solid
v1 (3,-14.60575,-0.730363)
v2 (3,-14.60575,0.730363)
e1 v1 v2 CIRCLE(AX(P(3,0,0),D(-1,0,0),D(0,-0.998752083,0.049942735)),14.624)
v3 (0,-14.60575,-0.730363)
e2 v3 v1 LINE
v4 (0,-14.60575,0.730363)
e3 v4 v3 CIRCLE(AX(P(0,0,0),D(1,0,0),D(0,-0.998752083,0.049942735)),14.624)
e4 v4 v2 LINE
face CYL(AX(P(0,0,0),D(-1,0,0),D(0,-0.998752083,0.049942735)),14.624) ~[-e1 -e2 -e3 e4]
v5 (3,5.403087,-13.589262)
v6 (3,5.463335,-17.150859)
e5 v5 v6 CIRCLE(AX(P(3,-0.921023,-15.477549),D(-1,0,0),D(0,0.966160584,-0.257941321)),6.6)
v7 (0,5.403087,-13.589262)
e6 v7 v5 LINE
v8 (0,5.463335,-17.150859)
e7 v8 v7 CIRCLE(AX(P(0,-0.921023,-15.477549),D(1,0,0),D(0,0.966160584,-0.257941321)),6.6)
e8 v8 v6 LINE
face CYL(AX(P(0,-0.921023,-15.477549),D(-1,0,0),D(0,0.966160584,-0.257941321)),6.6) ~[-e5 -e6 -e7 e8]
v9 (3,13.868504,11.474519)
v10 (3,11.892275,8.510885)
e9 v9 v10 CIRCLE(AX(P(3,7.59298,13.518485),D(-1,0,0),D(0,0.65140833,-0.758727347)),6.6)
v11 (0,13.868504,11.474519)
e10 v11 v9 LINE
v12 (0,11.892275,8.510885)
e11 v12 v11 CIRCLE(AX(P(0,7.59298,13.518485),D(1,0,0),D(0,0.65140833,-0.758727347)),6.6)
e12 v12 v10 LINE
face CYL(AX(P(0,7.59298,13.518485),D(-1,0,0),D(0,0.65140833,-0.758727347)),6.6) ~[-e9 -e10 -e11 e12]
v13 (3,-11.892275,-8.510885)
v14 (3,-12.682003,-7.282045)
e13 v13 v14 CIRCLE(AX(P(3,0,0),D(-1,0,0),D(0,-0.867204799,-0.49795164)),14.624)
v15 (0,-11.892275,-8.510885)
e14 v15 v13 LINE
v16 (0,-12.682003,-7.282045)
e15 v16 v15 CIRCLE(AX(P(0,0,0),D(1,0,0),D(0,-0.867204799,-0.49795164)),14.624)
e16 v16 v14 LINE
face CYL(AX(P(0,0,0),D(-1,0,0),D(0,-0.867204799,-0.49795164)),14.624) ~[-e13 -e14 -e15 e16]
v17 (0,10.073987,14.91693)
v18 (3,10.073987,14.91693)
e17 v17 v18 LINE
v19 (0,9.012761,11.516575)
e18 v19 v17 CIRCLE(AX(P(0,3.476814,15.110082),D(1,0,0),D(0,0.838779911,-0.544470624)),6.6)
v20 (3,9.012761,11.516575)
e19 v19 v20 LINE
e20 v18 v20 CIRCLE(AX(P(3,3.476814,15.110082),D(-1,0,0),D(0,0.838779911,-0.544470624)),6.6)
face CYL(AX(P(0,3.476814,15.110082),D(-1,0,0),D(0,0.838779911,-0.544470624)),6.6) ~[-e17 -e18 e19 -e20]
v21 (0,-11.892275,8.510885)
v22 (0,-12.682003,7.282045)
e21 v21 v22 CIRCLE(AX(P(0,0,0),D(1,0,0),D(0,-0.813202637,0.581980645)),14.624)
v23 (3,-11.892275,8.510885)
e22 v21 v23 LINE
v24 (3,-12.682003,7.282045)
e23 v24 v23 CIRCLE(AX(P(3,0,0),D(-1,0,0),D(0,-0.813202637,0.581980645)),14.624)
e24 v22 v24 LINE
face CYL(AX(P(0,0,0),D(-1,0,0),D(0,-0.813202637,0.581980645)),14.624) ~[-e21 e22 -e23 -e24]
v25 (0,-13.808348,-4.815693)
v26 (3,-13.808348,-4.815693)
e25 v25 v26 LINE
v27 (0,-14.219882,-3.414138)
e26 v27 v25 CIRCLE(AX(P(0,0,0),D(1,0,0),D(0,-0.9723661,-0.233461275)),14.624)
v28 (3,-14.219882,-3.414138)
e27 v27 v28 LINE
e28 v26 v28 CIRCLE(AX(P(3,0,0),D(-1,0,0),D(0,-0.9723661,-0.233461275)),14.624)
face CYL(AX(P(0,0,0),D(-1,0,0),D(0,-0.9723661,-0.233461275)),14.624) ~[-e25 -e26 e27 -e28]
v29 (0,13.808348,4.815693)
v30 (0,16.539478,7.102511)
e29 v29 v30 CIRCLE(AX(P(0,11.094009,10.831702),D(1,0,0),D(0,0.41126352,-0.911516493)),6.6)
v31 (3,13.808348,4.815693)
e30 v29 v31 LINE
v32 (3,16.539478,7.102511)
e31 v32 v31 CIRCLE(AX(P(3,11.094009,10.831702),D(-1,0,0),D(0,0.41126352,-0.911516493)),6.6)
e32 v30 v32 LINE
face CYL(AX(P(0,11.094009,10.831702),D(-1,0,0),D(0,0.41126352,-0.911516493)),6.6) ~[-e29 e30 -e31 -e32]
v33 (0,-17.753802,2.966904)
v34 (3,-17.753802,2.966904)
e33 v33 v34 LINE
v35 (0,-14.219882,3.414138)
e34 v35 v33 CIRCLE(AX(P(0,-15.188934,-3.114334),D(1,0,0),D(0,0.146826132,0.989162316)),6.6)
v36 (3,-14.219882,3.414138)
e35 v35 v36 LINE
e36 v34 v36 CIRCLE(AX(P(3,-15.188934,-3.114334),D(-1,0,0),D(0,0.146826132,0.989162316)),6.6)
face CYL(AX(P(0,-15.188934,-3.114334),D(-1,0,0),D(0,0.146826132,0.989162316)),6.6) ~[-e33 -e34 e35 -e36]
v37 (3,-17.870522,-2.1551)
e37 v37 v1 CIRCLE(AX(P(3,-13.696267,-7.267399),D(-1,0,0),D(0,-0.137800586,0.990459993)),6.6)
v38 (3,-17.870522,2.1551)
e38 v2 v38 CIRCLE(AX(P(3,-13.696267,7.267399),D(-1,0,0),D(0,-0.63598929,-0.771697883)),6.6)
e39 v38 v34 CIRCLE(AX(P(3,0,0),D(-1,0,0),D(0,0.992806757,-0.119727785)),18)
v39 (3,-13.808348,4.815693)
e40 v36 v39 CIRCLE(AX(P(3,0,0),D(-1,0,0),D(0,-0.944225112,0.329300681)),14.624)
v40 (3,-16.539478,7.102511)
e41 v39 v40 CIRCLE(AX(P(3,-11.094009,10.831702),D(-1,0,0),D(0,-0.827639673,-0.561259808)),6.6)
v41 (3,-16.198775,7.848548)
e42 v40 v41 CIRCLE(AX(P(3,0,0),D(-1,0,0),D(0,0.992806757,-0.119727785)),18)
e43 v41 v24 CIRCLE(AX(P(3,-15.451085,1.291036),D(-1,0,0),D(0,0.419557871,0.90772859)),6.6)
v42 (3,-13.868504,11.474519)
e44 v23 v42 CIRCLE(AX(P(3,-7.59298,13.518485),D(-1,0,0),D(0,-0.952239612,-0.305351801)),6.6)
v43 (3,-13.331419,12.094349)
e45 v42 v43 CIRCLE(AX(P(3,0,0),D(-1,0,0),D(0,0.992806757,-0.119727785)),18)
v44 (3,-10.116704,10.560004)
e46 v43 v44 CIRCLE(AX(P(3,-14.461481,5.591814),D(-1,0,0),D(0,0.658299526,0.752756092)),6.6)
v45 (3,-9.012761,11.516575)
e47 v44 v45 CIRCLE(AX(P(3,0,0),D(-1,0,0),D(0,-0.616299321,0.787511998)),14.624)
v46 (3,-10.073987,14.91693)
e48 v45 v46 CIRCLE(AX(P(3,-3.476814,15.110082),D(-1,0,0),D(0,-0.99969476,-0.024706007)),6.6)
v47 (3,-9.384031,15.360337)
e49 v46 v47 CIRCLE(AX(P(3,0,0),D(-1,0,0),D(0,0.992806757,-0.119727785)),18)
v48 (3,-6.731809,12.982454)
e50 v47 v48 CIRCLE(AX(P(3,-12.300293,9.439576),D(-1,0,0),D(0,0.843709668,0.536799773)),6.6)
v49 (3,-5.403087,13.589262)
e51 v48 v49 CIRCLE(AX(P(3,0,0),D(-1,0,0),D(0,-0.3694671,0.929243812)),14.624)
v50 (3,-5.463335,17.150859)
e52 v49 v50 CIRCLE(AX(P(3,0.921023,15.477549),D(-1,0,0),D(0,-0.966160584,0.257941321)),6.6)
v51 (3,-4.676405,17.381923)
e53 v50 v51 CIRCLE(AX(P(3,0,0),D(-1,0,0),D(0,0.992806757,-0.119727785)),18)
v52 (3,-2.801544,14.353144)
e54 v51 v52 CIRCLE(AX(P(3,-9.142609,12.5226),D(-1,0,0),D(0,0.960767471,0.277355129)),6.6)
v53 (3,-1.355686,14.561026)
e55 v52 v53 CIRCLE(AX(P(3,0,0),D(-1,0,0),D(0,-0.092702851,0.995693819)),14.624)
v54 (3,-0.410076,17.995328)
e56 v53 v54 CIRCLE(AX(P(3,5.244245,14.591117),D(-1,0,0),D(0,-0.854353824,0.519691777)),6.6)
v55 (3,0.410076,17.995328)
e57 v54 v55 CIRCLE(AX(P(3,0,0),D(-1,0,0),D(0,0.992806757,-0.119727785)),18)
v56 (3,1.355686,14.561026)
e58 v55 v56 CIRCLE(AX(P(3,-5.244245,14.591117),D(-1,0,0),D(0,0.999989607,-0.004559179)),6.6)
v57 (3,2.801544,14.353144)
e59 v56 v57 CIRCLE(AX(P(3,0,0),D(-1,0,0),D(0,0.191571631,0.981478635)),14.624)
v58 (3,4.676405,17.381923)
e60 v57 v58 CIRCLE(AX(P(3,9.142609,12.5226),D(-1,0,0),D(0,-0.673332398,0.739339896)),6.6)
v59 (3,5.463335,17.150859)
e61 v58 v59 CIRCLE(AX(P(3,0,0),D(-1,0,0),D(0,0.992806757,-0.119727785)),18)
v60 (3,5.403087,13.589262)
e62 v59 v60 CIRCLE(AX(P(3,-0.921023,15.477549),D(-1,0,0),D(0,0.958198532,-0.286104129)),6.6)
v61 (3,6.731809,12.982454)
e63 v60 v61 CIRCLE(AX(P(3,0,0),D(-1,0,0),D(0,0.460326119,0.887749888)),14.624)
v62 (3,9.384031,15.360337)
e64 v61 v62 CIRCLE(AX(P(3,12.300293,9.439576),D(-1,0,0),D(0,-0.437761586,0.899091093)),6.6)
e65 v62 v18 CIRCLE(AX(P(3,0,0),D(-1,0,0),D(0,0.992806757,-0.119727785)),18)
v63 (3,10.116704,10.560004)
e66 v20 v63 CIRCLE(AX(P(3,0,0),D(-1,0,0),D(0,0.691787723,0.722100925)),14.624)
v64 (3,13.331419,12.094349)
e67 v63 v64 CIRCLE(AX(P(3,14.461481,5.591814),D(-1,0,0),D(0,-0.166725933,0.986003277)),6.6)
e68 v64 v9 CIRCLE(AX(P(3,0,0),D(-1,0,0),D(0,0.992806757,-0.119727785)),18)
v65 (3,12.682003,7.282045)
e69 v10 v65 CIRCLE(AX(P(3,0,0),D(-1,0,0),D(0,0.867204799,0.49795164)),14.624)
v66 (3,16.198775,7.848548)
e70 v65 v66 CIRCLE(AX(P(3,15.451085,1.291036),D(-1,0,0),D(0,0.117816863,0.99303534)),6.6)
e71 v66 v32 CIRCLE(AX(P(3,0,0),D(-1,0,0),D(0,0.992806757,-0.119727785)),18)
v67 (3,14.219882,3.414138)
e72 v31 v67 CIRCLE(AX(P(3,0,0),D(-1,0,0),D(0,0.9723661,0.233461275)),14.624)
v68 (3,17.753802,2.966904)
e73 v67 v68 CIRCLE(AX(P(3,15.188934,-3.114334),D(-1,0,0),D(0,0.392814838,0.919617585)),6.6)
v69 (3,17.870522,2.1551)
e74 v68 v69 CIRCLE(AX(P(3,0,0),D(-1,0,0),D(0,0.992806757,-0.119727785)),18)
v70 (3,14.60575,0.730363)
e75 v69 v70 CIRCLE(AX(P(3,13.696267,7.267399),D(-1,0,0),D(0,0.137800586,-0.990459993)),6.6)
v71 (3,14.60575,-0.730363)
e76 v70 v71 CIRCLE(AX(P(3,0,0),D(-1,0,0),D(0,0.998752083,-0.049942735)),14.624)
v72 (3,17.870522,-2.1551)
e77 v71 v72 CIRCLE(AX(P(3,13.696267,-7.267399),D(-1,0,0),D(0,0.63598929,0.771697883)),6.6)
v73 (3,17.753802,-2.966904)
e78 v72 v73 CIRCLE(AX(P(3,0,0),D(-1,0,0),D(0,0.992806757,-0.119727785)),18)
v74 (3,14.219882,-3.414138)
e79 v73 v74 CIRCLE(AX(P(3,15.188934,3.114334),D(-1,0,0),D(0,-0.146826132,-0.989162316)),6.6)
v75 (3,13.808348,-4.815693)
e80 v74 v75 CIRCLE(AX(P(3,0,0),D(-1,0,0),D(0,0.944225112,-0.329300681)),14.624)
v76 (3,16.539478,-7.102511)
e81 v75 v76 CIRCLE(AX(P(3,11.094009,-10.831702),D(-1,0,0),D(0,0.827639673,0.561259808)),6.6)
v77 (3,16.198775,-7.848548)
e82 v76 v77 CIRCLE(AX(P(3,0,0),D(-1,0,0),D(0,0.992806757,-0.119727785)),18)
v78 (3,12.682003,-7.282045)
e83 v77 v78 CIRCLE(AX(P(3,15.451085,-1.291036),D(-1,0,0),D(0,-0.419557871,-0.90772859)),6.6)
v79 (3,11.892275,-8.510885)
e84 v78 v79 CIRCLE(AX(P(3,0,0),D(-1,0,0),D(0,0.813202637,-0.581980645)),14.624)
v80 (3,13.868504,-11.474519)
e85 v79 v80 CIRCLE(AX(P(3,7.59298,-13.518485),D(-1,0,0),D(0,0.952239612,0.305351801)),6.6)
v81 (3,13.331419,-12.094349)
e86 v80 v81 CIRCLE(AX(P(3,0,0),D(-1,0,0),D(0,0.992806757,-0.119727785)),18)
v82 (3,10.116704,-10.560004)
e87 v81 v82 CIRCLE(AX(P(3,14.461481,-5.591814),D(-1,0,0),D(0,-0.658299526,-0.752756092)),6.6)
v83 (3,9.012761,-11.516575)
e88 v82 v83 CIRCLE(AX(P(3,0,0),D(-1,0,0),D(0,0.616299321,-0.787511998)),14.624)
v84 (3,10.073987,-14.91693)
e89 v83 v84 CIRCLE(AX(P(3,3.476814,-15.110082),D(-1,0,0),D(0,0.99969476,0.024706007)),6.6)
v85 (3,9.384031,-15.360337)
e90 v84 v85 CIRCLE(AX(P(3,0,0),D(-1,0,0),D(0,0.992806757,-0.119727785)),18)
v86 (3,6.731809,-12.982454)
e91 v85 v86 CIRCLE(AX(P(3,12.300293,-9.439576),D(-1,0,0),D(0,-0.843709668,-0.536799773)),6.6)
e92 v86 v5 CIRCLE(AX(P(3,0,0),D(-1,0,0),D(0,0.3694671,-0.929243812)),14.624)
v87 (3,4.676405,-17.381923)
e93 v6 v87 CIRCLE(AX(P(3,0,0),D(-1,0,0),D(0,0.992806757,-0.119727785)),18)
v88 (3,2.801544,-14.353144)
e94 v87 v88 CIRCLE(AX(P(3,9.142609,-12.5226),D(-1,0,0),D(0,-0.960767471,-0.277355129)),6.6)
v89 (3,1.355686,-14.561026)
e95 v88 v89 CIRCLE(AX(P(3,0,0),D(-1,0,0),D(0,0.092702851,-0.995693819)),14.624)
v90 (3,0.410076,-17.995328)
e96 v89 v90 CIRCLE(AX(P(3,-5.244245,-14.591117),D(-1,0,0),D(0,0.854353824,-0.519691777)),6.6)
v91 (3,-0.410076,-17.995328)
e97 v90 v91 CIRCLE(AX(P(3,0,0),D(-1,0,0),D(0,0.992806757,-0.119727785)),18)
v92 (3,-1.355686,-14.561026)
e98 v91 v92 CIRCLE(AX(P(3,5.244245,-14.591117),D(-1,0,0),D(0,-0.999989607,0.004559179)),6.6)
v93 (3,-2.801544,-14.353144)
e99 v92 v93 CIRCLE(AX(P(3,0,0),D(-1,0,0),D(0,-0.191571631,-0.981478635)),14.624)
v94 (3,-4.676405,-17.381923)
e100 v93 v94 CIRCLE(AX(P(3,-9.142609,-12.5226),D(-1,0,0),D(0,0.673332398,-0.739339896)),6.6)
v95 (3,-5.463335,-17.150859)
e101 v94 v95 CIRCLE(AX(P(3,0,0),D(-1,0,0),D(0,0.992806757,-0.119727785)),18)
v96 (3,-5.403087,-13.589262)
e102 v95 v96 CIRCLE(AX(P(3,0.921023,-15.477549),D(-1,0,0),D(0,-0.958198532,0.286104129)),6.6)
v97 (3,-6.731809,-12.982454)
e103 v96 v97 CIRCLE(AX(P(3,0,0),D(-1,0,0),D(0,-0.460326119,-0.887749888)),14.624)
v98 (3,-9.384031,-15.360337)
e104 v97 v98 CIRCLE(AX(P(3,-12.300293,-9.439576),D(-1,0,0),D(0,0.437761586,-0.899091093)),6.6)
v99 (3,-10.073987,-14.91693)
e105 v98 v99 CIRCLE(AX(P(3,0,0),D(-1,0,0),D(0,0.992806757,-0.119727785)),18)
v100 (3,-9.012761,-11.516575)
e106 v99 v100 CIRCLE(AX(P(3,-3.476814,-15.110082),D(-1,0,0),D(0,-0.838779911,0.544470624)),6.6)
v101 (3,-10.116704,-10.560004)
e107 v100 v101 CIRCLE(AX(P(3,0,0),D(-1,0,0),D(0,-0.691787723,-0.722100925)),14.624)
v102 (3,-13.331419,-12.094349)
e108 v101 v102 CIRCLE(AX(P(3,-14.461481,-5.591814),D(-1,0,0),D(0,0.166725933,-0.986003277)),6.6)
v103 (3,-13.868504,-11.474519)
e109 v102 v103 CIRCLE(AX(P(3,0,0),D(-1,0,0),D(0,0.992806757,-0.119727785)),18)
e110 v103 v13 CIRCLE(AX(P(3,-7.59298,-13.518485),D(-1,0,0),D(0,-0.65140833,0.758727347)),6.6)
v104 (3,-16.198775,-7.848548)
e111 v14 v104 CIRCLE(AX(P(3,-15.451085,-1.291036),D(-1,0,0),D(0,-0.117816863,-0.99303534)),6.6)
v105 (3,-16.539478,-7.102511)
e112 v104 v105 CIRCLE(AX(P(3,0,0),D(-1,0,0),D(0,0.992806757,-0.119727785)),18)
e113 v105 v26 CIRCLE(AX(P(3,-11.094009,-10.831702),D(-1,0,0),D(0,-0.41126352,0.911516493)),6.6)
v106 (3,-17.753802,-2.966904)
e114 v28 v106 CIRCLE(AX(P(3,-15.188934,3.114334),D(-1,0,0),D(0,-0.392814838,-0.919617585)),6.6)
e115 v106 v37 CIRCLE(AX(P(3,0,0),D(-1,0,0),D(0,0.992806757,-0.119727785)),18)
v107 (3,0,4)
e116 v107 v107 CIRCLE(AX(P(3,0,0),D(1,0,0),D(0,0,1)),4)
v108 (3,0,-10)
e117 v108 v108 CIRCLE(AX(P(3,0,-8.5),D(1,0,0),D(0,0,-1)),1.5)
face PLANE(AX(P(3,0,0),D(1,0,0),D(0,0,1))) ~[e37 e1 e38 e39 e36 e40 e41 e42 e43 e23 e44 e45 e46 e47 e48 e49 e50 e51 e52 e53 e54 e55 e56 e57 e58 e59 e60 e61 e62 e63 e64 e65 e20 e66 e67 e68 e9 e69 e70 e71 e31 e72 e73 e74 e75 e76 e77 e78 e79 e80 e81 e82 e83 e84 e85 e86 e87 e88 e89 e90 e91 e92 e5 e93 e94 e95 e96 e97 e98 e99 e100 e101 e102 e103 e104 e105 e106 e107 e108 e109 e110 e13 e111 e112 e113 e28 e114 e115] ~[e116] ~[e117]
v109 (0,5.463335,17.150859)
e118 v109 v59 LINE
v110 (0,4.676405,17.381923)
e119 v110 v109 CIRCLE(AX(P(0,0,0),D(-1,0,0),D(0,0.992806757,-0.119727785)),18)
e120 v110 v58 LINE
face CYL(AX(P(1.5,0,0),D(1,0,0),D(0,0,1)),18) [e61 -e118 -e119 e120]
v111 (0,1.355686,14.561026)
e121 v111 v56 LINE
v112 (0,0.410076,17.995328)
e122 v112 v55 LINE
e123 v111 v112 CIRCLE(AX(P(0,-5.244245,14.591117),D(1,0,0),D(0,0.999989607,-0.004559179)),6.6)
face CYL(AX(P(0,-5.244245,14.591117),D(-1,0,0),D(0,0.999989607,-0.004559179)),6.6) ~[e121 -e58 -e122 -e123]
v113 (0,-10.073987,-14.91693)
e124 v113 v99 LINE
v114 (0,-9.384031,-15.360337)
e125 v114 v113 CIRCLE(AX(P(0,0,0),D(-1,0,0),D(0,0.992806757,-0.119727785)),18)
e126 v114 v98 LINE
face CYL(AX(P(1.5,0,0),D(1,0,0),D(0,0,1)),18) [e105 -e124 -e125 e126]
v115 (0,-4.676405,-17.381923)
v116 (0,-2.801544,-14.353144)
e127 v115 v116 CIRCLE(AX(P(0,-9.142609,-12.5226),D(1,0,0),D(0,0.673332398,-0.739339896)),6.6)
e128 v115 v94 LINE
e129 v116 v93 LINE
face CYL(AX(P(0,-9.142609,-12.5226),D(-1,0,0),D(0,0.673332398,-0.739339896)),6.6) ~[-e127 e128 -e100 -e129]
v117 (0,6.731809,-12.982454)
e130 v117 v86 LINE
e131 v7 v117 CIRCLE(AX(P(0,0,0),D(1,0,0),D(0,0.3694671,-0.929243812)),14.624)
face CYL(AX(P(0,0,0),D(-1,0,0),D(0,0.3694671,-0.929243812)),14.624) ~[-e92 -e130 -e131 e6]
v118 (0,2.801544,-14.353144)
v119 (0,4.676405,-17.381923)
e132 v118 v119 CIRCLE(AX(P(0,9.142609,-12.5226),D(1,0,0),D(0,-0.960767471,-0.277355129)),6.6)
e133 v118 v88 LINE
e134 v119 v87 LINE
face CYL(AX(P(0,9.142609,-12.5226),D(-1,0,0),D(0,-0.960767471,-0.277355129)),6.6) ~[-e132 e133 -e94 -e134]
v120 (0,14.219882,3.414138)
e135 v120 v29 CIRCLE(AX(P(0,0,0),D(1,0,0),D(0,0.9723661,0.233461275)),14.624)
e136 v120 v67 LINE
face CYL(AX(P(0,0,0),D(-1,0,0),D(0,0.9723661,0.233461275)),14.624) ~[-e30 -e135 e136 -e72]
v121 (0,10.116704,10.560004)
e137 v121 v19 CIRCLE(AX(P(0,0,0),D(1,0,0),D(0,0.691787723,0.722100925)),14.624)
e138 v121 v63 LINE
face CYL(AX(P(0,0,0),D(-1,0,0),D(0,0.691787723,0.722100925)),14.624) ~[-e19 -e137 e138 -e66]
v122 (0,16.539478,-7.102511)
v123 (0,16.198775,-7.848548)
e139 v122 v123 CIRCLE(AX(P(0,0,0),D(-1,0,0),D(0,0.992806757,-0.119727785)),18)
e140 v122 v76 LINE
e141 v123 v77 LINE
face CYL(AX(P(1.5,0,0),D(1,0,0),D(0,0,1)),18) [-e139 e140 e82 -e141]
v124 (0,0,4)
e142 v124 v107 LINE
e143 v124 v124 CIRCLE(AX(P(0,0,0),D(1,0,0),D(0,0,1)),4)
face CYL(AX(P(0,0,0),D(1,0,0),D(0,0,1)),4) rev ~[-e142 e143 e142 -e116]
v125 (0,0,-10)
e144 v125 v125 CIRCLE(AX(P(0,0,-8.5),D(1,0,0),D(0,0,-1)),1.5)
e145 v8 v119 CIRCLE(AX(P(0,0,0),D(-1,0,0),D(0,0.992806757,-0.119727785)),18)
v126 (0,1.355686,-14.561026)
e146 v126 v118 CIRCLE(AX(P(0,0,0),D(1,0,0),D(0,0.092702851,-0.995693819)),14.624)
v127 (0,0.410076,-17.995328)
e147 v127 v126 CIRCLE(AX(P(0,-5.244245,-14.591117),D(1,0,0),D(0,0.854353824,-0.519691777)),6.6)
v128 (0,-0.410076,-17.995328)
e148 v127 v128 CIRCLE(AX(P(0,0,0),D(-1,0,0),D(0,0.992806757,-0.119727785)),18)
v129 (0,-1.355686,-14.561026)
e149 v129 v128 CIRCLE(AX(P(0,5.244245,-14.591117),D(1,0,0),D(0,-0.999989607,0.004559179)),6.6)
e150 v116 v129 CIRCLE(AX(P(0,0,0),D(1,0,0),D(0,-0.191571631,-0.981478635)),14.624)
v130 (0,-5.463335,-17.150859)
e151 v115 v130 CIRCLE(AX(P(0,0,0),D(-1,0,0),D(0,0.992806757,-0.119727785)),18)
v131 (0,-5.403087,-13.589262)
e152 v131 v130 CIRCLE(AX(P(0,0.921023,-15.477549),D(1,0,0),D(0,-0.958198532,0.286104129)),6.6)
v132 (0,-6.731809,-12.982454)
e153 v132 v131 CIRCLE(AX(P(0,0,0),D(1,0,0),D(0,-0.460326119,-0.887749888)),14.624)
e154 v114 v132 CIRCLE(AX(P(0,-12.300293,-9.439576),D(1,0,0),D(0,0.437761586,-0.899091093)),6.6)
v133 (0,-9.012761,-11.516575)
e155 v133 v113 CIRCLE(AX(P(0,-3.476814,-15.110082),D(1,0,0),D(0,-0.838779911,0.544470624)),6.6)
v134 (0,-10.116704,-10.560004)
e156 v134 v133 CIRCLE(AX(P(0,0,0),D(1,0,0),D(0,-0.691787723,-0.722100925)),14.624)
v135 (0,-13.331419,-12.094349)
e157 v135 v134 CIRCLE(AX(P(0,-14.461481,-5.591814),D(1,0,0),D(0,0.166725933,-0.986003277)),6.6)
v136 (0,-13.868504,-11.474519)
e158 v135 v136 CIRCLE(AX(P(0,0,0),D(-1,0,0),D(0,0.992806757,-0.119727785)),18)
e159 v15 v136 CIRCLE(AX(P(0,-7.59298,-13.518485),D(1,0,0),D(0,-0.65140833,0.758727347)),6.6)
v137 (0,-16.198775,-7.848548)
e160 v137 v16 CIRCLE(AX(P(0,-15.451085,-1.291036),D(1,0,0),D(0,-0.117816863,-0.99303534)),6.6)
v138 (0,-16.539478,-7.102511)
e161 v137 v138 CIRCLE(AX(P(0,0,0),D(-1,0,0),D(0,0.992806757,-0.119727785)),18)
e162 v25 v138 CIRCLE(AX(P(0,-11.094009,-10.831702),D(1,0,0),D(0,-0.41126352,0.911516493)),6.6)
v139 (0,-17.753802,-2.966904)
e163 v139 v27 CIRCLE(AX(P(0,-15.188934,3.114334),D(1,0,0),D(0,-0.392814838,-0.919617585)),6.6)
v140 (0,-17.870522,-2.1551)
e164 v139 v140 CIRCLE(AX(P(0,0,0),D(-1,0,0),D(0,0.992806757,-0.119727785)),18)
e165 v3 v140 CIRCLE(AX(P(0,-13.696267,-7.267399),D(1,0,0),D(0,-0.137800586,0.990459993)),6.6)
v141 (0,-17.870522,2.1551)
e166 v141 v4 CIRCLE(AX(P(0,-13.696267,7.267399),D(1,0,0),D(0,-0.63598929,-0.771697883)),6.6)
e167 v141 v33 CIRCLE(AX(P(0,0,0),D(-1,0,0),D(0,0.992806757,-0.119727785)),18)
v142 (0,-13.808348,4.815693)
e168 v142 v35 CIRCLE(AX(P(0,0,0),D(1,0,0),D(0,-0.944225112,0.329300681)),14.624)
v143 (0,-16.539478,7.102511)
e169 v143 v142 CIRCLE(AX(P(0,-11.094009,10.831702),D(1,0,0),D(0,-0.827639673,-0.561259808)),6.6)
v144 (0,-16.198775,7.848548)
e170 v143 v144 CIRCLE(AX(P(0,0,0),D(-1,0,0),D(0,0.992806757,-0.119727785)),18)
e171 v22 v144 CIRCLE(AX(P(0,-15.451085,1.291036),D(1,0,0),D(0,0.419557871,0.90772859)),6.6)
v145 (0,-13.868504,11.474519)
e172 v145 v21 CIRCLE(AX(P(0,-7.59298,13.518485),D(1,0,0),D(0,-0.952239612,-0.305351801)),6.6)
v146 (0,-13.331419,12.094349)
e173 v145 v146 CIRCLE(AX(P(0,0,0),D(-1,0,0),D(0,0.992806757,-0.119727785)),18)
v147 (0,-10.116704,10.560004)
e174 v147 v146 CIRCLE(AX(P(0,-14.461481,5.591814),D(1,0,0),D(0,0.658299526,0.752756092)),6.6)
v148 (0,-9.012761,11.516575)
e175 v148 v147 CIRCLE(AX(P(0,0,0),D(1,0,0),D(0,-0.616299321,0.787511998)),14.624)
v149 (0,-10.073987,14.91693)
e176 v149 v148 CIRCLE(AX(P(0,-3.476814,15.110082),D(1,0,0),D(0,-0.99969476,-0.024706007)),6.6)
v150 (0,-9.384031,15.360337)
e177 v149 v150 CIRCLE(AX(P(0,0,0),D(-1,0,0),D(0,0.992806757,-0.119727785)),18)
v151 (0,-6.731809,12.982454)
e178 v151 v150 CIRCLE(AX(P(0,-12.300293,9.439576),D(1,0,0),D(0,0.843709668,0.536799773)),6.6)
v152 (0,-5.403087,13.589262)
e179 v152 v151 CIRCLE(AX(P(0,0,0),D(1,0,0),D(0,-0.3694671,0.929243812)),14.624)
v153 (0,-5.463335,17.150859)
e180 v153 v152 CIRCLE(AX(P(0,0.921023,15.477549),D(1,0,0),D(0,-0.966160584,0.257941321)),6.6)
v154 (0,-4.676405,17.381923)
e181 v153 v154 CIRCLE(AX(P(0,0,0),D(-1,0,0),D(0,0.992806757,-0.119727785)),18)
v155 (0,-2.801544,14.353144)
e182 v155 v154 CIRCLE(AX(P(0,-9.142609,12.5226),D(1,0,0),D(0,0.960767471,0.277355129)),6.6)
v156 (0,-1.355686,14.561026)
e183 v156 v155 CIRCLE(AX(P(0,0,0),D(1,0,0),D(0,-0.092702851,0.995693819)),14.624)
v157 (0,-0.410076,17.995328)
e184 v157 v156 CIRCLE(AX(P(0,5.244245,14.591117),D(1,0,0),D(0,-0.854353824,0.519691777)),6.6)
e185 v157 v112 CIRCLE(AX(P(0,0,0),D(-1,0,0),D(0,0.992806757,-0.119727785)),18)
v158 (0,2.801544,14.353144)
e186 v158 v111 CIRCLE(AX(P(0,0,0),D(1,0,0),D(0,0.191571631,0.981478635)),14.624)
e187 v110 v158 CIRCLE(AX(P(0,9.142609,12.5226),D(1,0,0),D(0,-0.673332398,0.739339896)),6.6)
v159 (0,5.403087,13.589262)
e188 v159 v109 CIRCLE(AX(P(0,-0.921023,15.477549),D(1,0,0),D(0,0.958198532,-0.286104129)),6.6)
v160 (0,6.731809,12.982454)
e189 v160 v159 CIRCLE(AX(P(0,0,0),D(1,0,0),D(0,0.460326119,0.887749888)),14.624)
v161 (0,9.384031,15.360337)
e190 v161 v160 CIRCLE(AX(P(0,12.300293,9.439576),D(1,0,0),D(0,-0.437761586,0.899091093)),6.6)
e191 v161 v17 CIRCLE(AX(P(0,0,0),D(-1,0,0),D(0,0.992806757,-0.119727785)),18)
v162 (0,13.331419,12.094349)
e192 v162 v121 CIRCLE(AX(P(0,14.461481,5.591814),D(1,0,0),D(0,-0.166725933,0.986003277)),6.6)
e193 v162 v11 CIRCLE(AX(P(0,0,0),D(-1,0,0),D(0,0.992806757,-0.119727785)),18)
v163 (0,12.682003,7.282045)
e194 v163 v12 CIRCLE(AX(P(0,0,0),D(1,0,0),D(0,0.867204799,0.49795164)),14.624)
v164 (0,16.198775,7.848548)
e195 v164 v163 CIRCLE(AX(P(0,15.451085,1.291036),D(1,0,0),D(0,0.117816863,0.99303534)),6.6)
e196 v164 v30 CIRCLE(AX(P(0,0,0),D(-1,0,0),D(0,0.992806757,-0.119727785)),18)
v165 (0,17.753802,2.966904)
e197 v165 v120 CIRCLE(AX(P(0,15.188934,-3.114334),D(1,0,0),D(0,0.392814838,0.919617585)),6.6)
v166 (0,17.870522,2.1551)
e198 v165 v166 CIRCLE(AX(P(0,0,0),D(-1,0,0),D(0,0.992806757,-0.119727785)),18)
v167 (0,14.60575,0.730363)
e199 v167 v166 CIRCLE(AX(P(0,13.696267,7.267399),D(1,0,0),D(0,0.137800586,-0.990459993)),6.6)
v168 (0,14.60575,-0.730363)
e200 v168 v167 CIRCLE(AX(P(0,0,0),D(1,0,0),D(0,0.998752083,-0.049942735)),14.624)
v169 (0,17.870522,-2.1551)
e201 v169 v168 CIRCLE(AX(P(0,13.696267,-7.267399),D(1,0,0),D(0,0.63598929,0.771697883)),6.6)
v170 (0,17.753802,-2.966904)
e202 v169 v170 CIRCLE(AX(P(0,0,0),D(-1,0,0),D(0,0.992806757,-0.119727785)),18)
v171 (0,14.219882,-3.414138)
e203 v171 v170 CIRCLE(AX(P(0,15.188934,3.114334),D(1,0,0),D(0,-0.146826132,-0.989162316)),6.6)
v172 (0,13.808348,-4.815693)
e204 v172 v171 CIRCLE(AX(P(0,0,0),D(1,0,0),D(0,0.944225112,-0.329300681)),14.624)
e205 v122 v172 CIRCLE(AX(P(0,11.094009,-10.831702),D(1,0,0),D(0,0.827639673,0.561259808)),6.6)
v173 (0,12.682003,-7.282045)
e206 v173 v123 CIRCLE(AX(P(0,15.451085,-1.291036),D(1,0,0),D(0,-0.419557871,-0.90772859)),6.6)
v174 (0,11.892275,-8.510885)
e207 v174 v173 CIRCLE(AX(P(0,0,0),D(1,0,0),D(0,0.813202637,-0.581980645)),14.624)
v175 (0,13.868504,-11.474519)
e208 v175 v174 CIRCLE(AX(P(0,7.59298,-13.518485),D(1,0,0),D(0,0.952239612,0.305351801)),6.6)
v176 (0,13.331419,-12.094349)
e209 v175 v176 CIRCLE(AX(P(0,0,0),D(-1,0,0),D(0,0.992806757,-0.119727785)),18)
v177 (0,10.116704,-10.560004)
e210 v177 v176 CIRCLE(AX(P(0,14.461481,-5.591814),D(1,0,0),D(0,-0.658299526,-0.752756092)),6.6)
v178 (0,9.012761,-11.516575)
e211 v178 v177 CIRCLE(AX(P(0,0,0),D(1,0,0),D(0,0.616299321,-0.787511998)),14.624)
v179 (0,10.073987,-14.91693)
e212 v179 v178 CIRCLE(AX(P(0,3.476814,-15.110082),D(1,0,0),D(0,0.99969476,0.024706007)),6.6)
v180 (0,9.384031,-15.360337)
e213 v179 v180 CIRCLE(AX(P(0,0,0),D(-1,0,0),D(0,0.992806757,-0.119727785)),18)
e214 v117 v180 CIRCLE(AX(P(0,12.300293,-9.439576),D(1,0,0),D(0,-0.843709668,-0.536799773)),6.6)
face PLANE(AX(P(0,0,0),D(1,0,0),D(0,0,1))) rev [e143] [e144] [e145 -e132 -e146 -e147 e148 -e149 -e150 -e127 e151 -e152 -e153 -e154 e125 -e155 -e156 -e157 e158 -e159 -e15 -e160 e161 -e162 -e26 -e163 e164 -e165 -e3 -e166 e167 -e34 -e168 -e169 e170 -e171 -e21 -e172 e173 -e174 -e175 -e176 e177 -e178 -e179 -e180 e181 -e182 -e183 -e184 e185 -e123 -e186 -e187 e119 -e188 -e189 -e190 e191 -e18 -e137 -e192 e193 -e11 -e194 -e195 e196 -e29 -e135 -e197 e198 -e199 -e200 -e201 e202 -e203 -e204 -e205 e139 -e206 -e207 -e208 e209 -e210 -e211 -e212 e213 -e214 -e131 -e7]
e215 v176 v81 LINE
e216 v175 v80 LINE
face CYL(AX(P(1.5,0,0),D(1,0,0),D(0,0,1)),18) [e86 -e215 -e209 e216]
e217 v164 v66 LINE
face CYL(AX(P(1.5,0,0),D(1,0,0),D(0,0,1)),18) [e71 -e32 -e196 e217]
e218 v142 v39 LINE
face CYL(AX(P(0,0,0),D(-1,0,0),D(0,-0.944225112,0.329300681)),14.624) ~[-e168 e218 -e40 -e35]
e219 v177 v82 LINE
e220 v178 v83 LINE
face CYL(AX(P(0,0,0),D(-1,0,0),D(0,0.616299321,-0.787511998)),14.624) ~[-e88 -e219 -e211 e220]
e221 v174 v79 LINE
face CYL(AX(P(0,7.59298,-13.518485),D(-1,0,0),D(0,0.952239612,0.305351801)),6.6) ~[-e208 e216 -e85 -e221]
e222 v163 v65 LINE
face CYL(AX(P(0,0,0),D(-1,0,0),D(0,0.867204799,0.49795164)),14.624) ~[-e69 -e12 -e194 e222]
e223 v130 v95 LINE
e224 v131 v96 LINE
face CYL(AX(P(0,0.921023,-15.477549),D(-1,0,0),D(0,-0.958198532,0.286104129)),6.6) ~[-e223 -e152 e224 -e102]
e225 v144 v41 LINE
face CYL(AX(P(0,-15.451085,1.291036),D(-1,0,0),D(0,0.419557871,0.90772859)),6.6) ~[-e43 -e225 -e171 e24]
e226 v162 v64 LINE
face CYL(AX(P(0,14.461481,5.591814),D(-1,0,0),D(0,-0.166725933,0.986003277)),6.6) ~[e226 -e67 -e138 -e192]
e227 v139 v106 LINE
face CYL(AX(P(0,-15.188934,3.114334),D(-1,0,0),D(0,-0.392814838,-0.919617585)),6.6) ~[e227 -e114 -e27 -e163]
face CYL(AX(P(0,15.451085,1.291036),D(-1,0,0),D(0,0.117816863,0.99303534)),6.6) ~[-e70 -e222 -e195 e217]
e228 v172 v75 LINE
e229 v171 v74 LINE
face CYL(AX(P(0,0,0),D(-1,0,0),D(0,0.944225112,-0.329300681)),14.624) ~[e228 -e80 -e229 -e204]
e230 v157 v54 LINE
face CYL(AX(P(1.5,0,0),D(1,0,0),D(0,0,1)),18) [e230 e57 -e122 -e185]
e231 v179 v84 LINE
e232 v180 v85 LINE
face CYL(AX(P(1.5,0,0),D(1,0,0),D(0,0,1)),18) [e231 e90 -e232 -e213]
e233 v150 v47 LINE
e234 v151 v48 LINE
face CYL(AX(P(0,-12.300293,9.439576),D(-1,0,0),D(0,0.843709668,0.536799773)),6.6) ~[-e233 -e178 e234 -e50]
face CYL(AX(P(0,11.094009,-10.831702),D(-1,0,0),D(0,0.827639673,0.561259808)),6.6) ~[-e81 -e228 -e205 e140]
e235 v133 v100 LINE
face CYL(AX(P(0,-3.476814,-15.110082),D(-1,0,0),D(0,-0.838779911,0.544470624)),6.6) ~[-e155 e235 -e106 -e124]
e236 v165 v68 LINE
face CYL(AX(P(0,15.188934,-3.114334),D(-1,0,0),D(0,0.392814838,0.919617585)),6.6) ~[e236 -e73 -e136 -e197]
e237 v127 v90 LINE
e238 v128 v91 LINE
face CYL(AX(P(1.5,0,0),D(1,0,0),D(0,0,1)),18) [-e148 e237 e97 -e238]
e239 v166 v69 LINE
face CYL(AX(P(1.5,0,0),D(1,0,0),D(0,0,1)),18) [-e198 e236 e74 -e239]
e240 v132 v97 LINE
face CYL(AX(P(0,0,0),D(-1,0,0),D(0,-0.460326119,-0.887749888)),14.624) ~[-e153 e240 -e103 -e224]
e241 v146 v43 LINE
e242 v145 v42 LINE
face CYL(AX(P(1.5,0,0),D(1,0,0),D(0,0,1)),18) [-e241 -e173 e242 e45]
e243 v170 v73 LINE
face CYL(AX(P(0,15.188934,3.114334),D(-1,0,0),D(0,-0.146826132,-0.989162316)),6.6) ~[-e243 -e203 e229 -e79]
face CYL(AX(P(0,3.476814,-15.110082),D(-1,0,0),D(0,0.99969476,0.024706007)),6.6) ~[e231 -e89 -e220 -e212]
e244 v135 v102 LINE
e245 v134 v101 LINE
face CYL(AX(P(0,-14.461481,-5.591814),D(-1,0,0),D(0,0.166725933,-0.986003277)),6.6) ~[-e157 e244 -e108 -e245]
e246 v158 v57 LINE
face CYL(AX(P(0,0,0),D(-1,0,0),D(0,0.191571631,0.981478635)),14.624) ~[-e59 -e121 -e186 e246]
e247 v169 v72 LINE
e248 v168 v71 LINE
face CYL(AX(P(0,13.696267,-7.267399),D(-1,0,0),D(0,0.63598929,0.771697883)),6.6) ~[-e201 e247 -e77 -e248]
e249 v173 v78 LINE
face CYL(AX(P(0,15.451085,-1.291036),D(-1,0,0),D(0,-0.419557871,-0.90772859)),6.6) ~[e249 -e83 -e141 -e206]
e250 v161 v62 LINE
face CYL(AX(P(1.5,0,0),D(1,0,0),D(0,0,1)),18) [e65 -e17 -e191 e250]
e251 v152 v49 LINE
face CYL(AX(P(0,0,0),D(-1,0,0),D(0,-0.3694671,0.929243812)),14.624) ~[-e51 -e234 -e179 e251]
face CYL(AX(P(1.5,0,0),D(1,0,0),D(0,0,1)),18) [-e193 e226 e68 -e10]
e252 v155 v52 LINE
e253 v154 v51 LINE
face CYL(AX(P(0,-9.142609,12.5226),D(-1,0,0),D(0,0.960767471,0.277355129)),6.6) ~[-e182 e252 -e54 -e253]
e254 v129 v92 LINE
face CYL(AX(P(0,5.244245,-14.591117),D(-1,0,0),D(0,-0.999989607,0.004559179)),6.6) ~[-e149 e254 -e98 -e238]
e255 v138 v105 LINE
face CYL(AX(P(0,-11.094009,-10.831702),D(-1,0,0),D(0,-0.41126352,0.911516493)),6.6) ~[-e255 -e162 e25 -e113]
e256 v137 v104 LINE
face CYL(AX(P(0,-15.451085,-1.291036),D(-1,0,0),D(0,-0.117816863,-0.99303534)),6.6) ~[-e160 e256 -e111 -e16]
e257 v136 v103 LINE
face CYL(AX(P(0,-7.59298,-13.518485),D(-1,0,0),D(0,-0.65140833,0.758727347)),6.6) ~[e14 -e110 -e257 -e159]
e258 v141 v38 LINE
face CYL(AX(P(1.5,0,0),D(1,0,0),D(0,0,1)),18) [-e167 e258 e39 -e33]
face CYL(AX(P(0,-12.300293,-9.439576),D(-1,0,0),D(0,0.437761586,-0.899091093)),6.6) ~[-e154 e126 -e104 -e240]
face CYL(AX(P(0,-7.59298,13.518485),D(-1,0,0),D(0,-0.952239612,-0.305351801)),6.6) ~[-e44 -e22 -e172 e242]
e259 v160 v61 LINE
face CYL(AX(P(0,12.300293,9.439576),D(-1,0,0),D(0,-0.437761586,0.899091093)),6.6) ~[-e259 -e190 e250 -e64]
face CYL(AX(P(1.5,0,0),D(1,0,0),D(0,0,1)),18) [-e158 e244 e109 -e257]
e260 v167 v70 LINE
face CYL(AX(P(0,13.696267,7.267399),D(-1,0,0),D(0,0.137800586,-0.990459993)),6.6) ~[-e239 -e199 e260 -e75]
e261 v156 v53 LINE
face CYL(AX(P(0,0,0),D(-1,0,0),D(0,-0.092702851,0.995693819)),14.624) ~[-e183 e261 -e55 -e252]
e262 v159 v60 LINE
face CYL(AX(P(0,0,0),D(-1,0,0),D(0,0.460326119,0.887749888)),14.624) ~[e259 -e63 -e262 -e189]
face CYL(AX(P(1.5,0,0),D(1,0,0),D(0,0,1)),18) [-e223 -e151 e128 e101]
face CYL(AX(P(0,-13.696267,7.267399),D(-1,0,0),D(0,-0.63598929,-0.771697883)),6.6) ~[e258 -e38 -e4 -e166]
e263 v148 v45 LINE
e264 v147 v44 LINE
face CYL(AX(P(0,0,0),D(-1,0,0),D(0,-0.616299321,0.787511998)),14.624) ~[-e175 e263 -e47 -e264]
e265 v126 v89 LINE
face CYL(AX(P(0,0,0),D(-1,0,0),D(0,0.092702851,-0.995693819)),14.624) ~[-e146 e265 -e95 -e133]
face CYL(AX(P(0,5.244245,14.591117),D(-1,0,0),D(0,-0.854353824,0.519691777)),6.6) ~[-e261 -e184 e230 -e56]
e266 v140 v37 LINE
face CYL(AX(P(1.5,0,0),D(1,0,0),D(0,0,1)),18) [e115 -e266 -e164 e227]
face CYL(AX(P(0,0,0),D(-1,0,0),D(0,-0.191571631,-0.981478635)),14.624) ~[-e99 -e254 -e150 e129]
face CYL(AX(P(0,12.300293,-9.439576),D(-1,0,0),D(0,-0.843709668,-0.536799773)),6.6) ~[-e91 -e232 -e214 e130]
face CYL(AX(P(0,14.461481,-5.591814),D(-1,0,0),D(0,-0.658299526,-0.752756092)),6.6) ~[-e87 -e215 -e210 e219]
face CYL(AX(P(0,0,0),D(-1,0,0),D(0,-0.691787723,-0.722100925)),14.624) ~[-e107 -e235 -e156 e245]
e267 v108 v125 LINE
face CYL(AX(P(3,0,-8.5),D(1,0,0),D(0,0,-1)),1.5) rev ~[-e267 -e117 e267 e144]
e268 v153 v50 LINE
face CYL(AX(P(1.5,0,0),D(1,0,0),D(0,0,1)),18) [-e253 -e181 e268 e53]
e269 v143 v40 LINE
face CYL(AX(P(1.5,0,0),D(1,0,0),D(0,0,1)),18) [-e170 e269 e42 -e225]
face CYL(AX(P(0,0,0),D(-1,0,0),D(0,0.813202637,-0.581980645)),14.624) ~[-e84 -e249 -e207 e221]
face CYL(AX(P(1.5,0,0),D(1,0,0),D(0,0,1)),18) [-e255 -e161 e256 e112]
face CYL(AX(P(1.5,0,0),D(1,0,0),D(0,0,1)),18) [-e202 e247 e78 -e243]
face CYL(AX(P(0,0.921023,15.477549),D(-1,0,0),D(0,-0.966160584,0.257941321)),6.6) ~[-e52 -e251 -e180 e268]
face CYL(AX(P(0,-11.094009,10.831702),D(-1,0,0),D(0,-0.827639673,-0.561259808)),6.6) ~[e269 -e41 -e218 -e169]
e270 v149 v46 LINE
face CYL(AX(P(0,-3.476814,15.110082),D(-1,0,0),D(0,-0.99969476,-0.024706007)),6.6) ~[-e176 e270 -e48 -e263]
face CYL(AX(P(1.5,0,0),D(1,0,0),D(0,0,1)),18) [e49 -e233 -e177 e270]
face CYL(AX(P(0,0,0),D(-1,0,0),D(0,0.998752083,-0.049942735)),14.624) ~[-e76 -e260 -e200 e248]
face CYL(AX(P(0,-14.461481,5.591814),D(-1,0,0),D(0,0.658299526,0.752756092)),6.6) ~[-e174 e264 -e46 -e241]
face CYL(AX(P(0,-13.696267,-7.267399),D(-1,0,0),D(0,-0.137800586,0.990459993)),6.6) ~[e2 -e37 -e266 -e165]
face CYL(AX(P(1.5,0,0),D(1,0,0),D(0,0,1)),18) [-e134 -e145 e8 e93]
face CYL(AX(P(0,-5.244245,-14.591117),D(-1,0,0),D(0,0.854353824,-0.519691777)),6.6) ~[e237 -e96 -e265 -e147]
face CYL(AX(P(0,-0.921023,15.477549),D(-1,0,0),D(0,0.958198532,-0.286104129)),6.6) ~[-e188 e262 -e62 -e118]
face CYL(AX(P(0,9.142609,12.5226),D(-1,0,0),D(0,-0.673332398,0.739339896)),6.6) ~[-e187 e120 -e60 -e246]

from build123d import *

# Parameters (mm, degrees)
BASPROSKE_W         = 3
BASPROSKE_H         = 18
TOOTHCUT_DEPTH      = 26.632011236
TEETHCUTS_COUNT     = 22
TEETHCUTS_ANGLE     = 343.636363636
BORSKE_R            = 4
BORE_DEPTH          = 50.0000508
SKETCH_1_R          = 1.5
CUT_EXTRUDE_1_DEPTH = 26.541251799


with BuildPart() as part:
    # BasProSke → Base-Revolve (revolve)
    with BuildSketch(Plane(origin=(0, 0, 0), x_dir=(1, 0, 0), z_dir=(0, 1, 0)), mode=Mode.PRIVATE) as base_revolve_sk:
        with Locations((1.5, 9)):
            Rectangle(BASPROSKE_W, BASPROSKE_H)
    revolve(base_revolve_sk.sketch.rotate(Axis((-10, 0, 0), (1, 0, 0)), 180), axis=Axis((-10, 0, 0), (1, 0, 0)))

    # TooCutSke → ToothCut (cut, through all)
    with BuildSketch(Plane(origin=(0, 0, 0), x_dir=(0, 0, -1), z_dir=(1, 0, 0))):
        with BuildLine():
            ThreePointArc((0.730362564, 14.605750461), (0, 14.624), (-0.730362564, 14.605750461))
            ThreePointArc((-0.730362564, 14.605750461), (-1.224349384, 16.349859844), (-2.174192494, 17.893795913))
            ThreePointArc((-2.174192494, 17.893795913), (0, 18.0254), (2.174192494, 17.893795913))
            ThreePointArc((2.174192494, 17.893795913), (1.224349384, 16.349859844), (0.730362564, 14.605750461))
        make_face()
    toothcut = extrude(amount=TOOTHCUT_DEPTH, mode=Mode.SUBTRACT)

    # TeethCuts: ToothCut ×22 about axis
    teethcuts_axis = Axis((-10, 0, 0), (1, 0, 0))
    for i in range(1, TEETHCUTS_COUNT):
        add(toothcut.rotate(teethcuts_axis, i * TEETHCUTS_ANGLE / (TEETHCUTS_COUNT - 1)), mode=Mode.SUBTRACT)

    # BorSke → Bore (cut, symmetric)
    with BuildSketch(Plane(origin=(0, 0, 0), x_dir=(0, 0, -1), z_dir=(1, 0, 0))):
        with Locations(Location((0, 0, 0), (0, 0, 180))):
            Circle(BORSKE_R)
    extrude(amount=BORE_DEPTH, both=True, mode=Mode.SUBTRACT)

    # 草图1 → 切除-拉伸1 (cut, through all)
    with BuildSketch(Plane(origin=(3, 0, 0), x_dir=(0, 0, -1), z_dir=(1, 0, 0))):
        with Locations((8.5, 0)):
            Circle(SKETCH_1_R)
    extrude(amount=-CUT_EXTRUDE_1_DEPTH, mode=Mode.SUBTRACT)


solid = part.part
